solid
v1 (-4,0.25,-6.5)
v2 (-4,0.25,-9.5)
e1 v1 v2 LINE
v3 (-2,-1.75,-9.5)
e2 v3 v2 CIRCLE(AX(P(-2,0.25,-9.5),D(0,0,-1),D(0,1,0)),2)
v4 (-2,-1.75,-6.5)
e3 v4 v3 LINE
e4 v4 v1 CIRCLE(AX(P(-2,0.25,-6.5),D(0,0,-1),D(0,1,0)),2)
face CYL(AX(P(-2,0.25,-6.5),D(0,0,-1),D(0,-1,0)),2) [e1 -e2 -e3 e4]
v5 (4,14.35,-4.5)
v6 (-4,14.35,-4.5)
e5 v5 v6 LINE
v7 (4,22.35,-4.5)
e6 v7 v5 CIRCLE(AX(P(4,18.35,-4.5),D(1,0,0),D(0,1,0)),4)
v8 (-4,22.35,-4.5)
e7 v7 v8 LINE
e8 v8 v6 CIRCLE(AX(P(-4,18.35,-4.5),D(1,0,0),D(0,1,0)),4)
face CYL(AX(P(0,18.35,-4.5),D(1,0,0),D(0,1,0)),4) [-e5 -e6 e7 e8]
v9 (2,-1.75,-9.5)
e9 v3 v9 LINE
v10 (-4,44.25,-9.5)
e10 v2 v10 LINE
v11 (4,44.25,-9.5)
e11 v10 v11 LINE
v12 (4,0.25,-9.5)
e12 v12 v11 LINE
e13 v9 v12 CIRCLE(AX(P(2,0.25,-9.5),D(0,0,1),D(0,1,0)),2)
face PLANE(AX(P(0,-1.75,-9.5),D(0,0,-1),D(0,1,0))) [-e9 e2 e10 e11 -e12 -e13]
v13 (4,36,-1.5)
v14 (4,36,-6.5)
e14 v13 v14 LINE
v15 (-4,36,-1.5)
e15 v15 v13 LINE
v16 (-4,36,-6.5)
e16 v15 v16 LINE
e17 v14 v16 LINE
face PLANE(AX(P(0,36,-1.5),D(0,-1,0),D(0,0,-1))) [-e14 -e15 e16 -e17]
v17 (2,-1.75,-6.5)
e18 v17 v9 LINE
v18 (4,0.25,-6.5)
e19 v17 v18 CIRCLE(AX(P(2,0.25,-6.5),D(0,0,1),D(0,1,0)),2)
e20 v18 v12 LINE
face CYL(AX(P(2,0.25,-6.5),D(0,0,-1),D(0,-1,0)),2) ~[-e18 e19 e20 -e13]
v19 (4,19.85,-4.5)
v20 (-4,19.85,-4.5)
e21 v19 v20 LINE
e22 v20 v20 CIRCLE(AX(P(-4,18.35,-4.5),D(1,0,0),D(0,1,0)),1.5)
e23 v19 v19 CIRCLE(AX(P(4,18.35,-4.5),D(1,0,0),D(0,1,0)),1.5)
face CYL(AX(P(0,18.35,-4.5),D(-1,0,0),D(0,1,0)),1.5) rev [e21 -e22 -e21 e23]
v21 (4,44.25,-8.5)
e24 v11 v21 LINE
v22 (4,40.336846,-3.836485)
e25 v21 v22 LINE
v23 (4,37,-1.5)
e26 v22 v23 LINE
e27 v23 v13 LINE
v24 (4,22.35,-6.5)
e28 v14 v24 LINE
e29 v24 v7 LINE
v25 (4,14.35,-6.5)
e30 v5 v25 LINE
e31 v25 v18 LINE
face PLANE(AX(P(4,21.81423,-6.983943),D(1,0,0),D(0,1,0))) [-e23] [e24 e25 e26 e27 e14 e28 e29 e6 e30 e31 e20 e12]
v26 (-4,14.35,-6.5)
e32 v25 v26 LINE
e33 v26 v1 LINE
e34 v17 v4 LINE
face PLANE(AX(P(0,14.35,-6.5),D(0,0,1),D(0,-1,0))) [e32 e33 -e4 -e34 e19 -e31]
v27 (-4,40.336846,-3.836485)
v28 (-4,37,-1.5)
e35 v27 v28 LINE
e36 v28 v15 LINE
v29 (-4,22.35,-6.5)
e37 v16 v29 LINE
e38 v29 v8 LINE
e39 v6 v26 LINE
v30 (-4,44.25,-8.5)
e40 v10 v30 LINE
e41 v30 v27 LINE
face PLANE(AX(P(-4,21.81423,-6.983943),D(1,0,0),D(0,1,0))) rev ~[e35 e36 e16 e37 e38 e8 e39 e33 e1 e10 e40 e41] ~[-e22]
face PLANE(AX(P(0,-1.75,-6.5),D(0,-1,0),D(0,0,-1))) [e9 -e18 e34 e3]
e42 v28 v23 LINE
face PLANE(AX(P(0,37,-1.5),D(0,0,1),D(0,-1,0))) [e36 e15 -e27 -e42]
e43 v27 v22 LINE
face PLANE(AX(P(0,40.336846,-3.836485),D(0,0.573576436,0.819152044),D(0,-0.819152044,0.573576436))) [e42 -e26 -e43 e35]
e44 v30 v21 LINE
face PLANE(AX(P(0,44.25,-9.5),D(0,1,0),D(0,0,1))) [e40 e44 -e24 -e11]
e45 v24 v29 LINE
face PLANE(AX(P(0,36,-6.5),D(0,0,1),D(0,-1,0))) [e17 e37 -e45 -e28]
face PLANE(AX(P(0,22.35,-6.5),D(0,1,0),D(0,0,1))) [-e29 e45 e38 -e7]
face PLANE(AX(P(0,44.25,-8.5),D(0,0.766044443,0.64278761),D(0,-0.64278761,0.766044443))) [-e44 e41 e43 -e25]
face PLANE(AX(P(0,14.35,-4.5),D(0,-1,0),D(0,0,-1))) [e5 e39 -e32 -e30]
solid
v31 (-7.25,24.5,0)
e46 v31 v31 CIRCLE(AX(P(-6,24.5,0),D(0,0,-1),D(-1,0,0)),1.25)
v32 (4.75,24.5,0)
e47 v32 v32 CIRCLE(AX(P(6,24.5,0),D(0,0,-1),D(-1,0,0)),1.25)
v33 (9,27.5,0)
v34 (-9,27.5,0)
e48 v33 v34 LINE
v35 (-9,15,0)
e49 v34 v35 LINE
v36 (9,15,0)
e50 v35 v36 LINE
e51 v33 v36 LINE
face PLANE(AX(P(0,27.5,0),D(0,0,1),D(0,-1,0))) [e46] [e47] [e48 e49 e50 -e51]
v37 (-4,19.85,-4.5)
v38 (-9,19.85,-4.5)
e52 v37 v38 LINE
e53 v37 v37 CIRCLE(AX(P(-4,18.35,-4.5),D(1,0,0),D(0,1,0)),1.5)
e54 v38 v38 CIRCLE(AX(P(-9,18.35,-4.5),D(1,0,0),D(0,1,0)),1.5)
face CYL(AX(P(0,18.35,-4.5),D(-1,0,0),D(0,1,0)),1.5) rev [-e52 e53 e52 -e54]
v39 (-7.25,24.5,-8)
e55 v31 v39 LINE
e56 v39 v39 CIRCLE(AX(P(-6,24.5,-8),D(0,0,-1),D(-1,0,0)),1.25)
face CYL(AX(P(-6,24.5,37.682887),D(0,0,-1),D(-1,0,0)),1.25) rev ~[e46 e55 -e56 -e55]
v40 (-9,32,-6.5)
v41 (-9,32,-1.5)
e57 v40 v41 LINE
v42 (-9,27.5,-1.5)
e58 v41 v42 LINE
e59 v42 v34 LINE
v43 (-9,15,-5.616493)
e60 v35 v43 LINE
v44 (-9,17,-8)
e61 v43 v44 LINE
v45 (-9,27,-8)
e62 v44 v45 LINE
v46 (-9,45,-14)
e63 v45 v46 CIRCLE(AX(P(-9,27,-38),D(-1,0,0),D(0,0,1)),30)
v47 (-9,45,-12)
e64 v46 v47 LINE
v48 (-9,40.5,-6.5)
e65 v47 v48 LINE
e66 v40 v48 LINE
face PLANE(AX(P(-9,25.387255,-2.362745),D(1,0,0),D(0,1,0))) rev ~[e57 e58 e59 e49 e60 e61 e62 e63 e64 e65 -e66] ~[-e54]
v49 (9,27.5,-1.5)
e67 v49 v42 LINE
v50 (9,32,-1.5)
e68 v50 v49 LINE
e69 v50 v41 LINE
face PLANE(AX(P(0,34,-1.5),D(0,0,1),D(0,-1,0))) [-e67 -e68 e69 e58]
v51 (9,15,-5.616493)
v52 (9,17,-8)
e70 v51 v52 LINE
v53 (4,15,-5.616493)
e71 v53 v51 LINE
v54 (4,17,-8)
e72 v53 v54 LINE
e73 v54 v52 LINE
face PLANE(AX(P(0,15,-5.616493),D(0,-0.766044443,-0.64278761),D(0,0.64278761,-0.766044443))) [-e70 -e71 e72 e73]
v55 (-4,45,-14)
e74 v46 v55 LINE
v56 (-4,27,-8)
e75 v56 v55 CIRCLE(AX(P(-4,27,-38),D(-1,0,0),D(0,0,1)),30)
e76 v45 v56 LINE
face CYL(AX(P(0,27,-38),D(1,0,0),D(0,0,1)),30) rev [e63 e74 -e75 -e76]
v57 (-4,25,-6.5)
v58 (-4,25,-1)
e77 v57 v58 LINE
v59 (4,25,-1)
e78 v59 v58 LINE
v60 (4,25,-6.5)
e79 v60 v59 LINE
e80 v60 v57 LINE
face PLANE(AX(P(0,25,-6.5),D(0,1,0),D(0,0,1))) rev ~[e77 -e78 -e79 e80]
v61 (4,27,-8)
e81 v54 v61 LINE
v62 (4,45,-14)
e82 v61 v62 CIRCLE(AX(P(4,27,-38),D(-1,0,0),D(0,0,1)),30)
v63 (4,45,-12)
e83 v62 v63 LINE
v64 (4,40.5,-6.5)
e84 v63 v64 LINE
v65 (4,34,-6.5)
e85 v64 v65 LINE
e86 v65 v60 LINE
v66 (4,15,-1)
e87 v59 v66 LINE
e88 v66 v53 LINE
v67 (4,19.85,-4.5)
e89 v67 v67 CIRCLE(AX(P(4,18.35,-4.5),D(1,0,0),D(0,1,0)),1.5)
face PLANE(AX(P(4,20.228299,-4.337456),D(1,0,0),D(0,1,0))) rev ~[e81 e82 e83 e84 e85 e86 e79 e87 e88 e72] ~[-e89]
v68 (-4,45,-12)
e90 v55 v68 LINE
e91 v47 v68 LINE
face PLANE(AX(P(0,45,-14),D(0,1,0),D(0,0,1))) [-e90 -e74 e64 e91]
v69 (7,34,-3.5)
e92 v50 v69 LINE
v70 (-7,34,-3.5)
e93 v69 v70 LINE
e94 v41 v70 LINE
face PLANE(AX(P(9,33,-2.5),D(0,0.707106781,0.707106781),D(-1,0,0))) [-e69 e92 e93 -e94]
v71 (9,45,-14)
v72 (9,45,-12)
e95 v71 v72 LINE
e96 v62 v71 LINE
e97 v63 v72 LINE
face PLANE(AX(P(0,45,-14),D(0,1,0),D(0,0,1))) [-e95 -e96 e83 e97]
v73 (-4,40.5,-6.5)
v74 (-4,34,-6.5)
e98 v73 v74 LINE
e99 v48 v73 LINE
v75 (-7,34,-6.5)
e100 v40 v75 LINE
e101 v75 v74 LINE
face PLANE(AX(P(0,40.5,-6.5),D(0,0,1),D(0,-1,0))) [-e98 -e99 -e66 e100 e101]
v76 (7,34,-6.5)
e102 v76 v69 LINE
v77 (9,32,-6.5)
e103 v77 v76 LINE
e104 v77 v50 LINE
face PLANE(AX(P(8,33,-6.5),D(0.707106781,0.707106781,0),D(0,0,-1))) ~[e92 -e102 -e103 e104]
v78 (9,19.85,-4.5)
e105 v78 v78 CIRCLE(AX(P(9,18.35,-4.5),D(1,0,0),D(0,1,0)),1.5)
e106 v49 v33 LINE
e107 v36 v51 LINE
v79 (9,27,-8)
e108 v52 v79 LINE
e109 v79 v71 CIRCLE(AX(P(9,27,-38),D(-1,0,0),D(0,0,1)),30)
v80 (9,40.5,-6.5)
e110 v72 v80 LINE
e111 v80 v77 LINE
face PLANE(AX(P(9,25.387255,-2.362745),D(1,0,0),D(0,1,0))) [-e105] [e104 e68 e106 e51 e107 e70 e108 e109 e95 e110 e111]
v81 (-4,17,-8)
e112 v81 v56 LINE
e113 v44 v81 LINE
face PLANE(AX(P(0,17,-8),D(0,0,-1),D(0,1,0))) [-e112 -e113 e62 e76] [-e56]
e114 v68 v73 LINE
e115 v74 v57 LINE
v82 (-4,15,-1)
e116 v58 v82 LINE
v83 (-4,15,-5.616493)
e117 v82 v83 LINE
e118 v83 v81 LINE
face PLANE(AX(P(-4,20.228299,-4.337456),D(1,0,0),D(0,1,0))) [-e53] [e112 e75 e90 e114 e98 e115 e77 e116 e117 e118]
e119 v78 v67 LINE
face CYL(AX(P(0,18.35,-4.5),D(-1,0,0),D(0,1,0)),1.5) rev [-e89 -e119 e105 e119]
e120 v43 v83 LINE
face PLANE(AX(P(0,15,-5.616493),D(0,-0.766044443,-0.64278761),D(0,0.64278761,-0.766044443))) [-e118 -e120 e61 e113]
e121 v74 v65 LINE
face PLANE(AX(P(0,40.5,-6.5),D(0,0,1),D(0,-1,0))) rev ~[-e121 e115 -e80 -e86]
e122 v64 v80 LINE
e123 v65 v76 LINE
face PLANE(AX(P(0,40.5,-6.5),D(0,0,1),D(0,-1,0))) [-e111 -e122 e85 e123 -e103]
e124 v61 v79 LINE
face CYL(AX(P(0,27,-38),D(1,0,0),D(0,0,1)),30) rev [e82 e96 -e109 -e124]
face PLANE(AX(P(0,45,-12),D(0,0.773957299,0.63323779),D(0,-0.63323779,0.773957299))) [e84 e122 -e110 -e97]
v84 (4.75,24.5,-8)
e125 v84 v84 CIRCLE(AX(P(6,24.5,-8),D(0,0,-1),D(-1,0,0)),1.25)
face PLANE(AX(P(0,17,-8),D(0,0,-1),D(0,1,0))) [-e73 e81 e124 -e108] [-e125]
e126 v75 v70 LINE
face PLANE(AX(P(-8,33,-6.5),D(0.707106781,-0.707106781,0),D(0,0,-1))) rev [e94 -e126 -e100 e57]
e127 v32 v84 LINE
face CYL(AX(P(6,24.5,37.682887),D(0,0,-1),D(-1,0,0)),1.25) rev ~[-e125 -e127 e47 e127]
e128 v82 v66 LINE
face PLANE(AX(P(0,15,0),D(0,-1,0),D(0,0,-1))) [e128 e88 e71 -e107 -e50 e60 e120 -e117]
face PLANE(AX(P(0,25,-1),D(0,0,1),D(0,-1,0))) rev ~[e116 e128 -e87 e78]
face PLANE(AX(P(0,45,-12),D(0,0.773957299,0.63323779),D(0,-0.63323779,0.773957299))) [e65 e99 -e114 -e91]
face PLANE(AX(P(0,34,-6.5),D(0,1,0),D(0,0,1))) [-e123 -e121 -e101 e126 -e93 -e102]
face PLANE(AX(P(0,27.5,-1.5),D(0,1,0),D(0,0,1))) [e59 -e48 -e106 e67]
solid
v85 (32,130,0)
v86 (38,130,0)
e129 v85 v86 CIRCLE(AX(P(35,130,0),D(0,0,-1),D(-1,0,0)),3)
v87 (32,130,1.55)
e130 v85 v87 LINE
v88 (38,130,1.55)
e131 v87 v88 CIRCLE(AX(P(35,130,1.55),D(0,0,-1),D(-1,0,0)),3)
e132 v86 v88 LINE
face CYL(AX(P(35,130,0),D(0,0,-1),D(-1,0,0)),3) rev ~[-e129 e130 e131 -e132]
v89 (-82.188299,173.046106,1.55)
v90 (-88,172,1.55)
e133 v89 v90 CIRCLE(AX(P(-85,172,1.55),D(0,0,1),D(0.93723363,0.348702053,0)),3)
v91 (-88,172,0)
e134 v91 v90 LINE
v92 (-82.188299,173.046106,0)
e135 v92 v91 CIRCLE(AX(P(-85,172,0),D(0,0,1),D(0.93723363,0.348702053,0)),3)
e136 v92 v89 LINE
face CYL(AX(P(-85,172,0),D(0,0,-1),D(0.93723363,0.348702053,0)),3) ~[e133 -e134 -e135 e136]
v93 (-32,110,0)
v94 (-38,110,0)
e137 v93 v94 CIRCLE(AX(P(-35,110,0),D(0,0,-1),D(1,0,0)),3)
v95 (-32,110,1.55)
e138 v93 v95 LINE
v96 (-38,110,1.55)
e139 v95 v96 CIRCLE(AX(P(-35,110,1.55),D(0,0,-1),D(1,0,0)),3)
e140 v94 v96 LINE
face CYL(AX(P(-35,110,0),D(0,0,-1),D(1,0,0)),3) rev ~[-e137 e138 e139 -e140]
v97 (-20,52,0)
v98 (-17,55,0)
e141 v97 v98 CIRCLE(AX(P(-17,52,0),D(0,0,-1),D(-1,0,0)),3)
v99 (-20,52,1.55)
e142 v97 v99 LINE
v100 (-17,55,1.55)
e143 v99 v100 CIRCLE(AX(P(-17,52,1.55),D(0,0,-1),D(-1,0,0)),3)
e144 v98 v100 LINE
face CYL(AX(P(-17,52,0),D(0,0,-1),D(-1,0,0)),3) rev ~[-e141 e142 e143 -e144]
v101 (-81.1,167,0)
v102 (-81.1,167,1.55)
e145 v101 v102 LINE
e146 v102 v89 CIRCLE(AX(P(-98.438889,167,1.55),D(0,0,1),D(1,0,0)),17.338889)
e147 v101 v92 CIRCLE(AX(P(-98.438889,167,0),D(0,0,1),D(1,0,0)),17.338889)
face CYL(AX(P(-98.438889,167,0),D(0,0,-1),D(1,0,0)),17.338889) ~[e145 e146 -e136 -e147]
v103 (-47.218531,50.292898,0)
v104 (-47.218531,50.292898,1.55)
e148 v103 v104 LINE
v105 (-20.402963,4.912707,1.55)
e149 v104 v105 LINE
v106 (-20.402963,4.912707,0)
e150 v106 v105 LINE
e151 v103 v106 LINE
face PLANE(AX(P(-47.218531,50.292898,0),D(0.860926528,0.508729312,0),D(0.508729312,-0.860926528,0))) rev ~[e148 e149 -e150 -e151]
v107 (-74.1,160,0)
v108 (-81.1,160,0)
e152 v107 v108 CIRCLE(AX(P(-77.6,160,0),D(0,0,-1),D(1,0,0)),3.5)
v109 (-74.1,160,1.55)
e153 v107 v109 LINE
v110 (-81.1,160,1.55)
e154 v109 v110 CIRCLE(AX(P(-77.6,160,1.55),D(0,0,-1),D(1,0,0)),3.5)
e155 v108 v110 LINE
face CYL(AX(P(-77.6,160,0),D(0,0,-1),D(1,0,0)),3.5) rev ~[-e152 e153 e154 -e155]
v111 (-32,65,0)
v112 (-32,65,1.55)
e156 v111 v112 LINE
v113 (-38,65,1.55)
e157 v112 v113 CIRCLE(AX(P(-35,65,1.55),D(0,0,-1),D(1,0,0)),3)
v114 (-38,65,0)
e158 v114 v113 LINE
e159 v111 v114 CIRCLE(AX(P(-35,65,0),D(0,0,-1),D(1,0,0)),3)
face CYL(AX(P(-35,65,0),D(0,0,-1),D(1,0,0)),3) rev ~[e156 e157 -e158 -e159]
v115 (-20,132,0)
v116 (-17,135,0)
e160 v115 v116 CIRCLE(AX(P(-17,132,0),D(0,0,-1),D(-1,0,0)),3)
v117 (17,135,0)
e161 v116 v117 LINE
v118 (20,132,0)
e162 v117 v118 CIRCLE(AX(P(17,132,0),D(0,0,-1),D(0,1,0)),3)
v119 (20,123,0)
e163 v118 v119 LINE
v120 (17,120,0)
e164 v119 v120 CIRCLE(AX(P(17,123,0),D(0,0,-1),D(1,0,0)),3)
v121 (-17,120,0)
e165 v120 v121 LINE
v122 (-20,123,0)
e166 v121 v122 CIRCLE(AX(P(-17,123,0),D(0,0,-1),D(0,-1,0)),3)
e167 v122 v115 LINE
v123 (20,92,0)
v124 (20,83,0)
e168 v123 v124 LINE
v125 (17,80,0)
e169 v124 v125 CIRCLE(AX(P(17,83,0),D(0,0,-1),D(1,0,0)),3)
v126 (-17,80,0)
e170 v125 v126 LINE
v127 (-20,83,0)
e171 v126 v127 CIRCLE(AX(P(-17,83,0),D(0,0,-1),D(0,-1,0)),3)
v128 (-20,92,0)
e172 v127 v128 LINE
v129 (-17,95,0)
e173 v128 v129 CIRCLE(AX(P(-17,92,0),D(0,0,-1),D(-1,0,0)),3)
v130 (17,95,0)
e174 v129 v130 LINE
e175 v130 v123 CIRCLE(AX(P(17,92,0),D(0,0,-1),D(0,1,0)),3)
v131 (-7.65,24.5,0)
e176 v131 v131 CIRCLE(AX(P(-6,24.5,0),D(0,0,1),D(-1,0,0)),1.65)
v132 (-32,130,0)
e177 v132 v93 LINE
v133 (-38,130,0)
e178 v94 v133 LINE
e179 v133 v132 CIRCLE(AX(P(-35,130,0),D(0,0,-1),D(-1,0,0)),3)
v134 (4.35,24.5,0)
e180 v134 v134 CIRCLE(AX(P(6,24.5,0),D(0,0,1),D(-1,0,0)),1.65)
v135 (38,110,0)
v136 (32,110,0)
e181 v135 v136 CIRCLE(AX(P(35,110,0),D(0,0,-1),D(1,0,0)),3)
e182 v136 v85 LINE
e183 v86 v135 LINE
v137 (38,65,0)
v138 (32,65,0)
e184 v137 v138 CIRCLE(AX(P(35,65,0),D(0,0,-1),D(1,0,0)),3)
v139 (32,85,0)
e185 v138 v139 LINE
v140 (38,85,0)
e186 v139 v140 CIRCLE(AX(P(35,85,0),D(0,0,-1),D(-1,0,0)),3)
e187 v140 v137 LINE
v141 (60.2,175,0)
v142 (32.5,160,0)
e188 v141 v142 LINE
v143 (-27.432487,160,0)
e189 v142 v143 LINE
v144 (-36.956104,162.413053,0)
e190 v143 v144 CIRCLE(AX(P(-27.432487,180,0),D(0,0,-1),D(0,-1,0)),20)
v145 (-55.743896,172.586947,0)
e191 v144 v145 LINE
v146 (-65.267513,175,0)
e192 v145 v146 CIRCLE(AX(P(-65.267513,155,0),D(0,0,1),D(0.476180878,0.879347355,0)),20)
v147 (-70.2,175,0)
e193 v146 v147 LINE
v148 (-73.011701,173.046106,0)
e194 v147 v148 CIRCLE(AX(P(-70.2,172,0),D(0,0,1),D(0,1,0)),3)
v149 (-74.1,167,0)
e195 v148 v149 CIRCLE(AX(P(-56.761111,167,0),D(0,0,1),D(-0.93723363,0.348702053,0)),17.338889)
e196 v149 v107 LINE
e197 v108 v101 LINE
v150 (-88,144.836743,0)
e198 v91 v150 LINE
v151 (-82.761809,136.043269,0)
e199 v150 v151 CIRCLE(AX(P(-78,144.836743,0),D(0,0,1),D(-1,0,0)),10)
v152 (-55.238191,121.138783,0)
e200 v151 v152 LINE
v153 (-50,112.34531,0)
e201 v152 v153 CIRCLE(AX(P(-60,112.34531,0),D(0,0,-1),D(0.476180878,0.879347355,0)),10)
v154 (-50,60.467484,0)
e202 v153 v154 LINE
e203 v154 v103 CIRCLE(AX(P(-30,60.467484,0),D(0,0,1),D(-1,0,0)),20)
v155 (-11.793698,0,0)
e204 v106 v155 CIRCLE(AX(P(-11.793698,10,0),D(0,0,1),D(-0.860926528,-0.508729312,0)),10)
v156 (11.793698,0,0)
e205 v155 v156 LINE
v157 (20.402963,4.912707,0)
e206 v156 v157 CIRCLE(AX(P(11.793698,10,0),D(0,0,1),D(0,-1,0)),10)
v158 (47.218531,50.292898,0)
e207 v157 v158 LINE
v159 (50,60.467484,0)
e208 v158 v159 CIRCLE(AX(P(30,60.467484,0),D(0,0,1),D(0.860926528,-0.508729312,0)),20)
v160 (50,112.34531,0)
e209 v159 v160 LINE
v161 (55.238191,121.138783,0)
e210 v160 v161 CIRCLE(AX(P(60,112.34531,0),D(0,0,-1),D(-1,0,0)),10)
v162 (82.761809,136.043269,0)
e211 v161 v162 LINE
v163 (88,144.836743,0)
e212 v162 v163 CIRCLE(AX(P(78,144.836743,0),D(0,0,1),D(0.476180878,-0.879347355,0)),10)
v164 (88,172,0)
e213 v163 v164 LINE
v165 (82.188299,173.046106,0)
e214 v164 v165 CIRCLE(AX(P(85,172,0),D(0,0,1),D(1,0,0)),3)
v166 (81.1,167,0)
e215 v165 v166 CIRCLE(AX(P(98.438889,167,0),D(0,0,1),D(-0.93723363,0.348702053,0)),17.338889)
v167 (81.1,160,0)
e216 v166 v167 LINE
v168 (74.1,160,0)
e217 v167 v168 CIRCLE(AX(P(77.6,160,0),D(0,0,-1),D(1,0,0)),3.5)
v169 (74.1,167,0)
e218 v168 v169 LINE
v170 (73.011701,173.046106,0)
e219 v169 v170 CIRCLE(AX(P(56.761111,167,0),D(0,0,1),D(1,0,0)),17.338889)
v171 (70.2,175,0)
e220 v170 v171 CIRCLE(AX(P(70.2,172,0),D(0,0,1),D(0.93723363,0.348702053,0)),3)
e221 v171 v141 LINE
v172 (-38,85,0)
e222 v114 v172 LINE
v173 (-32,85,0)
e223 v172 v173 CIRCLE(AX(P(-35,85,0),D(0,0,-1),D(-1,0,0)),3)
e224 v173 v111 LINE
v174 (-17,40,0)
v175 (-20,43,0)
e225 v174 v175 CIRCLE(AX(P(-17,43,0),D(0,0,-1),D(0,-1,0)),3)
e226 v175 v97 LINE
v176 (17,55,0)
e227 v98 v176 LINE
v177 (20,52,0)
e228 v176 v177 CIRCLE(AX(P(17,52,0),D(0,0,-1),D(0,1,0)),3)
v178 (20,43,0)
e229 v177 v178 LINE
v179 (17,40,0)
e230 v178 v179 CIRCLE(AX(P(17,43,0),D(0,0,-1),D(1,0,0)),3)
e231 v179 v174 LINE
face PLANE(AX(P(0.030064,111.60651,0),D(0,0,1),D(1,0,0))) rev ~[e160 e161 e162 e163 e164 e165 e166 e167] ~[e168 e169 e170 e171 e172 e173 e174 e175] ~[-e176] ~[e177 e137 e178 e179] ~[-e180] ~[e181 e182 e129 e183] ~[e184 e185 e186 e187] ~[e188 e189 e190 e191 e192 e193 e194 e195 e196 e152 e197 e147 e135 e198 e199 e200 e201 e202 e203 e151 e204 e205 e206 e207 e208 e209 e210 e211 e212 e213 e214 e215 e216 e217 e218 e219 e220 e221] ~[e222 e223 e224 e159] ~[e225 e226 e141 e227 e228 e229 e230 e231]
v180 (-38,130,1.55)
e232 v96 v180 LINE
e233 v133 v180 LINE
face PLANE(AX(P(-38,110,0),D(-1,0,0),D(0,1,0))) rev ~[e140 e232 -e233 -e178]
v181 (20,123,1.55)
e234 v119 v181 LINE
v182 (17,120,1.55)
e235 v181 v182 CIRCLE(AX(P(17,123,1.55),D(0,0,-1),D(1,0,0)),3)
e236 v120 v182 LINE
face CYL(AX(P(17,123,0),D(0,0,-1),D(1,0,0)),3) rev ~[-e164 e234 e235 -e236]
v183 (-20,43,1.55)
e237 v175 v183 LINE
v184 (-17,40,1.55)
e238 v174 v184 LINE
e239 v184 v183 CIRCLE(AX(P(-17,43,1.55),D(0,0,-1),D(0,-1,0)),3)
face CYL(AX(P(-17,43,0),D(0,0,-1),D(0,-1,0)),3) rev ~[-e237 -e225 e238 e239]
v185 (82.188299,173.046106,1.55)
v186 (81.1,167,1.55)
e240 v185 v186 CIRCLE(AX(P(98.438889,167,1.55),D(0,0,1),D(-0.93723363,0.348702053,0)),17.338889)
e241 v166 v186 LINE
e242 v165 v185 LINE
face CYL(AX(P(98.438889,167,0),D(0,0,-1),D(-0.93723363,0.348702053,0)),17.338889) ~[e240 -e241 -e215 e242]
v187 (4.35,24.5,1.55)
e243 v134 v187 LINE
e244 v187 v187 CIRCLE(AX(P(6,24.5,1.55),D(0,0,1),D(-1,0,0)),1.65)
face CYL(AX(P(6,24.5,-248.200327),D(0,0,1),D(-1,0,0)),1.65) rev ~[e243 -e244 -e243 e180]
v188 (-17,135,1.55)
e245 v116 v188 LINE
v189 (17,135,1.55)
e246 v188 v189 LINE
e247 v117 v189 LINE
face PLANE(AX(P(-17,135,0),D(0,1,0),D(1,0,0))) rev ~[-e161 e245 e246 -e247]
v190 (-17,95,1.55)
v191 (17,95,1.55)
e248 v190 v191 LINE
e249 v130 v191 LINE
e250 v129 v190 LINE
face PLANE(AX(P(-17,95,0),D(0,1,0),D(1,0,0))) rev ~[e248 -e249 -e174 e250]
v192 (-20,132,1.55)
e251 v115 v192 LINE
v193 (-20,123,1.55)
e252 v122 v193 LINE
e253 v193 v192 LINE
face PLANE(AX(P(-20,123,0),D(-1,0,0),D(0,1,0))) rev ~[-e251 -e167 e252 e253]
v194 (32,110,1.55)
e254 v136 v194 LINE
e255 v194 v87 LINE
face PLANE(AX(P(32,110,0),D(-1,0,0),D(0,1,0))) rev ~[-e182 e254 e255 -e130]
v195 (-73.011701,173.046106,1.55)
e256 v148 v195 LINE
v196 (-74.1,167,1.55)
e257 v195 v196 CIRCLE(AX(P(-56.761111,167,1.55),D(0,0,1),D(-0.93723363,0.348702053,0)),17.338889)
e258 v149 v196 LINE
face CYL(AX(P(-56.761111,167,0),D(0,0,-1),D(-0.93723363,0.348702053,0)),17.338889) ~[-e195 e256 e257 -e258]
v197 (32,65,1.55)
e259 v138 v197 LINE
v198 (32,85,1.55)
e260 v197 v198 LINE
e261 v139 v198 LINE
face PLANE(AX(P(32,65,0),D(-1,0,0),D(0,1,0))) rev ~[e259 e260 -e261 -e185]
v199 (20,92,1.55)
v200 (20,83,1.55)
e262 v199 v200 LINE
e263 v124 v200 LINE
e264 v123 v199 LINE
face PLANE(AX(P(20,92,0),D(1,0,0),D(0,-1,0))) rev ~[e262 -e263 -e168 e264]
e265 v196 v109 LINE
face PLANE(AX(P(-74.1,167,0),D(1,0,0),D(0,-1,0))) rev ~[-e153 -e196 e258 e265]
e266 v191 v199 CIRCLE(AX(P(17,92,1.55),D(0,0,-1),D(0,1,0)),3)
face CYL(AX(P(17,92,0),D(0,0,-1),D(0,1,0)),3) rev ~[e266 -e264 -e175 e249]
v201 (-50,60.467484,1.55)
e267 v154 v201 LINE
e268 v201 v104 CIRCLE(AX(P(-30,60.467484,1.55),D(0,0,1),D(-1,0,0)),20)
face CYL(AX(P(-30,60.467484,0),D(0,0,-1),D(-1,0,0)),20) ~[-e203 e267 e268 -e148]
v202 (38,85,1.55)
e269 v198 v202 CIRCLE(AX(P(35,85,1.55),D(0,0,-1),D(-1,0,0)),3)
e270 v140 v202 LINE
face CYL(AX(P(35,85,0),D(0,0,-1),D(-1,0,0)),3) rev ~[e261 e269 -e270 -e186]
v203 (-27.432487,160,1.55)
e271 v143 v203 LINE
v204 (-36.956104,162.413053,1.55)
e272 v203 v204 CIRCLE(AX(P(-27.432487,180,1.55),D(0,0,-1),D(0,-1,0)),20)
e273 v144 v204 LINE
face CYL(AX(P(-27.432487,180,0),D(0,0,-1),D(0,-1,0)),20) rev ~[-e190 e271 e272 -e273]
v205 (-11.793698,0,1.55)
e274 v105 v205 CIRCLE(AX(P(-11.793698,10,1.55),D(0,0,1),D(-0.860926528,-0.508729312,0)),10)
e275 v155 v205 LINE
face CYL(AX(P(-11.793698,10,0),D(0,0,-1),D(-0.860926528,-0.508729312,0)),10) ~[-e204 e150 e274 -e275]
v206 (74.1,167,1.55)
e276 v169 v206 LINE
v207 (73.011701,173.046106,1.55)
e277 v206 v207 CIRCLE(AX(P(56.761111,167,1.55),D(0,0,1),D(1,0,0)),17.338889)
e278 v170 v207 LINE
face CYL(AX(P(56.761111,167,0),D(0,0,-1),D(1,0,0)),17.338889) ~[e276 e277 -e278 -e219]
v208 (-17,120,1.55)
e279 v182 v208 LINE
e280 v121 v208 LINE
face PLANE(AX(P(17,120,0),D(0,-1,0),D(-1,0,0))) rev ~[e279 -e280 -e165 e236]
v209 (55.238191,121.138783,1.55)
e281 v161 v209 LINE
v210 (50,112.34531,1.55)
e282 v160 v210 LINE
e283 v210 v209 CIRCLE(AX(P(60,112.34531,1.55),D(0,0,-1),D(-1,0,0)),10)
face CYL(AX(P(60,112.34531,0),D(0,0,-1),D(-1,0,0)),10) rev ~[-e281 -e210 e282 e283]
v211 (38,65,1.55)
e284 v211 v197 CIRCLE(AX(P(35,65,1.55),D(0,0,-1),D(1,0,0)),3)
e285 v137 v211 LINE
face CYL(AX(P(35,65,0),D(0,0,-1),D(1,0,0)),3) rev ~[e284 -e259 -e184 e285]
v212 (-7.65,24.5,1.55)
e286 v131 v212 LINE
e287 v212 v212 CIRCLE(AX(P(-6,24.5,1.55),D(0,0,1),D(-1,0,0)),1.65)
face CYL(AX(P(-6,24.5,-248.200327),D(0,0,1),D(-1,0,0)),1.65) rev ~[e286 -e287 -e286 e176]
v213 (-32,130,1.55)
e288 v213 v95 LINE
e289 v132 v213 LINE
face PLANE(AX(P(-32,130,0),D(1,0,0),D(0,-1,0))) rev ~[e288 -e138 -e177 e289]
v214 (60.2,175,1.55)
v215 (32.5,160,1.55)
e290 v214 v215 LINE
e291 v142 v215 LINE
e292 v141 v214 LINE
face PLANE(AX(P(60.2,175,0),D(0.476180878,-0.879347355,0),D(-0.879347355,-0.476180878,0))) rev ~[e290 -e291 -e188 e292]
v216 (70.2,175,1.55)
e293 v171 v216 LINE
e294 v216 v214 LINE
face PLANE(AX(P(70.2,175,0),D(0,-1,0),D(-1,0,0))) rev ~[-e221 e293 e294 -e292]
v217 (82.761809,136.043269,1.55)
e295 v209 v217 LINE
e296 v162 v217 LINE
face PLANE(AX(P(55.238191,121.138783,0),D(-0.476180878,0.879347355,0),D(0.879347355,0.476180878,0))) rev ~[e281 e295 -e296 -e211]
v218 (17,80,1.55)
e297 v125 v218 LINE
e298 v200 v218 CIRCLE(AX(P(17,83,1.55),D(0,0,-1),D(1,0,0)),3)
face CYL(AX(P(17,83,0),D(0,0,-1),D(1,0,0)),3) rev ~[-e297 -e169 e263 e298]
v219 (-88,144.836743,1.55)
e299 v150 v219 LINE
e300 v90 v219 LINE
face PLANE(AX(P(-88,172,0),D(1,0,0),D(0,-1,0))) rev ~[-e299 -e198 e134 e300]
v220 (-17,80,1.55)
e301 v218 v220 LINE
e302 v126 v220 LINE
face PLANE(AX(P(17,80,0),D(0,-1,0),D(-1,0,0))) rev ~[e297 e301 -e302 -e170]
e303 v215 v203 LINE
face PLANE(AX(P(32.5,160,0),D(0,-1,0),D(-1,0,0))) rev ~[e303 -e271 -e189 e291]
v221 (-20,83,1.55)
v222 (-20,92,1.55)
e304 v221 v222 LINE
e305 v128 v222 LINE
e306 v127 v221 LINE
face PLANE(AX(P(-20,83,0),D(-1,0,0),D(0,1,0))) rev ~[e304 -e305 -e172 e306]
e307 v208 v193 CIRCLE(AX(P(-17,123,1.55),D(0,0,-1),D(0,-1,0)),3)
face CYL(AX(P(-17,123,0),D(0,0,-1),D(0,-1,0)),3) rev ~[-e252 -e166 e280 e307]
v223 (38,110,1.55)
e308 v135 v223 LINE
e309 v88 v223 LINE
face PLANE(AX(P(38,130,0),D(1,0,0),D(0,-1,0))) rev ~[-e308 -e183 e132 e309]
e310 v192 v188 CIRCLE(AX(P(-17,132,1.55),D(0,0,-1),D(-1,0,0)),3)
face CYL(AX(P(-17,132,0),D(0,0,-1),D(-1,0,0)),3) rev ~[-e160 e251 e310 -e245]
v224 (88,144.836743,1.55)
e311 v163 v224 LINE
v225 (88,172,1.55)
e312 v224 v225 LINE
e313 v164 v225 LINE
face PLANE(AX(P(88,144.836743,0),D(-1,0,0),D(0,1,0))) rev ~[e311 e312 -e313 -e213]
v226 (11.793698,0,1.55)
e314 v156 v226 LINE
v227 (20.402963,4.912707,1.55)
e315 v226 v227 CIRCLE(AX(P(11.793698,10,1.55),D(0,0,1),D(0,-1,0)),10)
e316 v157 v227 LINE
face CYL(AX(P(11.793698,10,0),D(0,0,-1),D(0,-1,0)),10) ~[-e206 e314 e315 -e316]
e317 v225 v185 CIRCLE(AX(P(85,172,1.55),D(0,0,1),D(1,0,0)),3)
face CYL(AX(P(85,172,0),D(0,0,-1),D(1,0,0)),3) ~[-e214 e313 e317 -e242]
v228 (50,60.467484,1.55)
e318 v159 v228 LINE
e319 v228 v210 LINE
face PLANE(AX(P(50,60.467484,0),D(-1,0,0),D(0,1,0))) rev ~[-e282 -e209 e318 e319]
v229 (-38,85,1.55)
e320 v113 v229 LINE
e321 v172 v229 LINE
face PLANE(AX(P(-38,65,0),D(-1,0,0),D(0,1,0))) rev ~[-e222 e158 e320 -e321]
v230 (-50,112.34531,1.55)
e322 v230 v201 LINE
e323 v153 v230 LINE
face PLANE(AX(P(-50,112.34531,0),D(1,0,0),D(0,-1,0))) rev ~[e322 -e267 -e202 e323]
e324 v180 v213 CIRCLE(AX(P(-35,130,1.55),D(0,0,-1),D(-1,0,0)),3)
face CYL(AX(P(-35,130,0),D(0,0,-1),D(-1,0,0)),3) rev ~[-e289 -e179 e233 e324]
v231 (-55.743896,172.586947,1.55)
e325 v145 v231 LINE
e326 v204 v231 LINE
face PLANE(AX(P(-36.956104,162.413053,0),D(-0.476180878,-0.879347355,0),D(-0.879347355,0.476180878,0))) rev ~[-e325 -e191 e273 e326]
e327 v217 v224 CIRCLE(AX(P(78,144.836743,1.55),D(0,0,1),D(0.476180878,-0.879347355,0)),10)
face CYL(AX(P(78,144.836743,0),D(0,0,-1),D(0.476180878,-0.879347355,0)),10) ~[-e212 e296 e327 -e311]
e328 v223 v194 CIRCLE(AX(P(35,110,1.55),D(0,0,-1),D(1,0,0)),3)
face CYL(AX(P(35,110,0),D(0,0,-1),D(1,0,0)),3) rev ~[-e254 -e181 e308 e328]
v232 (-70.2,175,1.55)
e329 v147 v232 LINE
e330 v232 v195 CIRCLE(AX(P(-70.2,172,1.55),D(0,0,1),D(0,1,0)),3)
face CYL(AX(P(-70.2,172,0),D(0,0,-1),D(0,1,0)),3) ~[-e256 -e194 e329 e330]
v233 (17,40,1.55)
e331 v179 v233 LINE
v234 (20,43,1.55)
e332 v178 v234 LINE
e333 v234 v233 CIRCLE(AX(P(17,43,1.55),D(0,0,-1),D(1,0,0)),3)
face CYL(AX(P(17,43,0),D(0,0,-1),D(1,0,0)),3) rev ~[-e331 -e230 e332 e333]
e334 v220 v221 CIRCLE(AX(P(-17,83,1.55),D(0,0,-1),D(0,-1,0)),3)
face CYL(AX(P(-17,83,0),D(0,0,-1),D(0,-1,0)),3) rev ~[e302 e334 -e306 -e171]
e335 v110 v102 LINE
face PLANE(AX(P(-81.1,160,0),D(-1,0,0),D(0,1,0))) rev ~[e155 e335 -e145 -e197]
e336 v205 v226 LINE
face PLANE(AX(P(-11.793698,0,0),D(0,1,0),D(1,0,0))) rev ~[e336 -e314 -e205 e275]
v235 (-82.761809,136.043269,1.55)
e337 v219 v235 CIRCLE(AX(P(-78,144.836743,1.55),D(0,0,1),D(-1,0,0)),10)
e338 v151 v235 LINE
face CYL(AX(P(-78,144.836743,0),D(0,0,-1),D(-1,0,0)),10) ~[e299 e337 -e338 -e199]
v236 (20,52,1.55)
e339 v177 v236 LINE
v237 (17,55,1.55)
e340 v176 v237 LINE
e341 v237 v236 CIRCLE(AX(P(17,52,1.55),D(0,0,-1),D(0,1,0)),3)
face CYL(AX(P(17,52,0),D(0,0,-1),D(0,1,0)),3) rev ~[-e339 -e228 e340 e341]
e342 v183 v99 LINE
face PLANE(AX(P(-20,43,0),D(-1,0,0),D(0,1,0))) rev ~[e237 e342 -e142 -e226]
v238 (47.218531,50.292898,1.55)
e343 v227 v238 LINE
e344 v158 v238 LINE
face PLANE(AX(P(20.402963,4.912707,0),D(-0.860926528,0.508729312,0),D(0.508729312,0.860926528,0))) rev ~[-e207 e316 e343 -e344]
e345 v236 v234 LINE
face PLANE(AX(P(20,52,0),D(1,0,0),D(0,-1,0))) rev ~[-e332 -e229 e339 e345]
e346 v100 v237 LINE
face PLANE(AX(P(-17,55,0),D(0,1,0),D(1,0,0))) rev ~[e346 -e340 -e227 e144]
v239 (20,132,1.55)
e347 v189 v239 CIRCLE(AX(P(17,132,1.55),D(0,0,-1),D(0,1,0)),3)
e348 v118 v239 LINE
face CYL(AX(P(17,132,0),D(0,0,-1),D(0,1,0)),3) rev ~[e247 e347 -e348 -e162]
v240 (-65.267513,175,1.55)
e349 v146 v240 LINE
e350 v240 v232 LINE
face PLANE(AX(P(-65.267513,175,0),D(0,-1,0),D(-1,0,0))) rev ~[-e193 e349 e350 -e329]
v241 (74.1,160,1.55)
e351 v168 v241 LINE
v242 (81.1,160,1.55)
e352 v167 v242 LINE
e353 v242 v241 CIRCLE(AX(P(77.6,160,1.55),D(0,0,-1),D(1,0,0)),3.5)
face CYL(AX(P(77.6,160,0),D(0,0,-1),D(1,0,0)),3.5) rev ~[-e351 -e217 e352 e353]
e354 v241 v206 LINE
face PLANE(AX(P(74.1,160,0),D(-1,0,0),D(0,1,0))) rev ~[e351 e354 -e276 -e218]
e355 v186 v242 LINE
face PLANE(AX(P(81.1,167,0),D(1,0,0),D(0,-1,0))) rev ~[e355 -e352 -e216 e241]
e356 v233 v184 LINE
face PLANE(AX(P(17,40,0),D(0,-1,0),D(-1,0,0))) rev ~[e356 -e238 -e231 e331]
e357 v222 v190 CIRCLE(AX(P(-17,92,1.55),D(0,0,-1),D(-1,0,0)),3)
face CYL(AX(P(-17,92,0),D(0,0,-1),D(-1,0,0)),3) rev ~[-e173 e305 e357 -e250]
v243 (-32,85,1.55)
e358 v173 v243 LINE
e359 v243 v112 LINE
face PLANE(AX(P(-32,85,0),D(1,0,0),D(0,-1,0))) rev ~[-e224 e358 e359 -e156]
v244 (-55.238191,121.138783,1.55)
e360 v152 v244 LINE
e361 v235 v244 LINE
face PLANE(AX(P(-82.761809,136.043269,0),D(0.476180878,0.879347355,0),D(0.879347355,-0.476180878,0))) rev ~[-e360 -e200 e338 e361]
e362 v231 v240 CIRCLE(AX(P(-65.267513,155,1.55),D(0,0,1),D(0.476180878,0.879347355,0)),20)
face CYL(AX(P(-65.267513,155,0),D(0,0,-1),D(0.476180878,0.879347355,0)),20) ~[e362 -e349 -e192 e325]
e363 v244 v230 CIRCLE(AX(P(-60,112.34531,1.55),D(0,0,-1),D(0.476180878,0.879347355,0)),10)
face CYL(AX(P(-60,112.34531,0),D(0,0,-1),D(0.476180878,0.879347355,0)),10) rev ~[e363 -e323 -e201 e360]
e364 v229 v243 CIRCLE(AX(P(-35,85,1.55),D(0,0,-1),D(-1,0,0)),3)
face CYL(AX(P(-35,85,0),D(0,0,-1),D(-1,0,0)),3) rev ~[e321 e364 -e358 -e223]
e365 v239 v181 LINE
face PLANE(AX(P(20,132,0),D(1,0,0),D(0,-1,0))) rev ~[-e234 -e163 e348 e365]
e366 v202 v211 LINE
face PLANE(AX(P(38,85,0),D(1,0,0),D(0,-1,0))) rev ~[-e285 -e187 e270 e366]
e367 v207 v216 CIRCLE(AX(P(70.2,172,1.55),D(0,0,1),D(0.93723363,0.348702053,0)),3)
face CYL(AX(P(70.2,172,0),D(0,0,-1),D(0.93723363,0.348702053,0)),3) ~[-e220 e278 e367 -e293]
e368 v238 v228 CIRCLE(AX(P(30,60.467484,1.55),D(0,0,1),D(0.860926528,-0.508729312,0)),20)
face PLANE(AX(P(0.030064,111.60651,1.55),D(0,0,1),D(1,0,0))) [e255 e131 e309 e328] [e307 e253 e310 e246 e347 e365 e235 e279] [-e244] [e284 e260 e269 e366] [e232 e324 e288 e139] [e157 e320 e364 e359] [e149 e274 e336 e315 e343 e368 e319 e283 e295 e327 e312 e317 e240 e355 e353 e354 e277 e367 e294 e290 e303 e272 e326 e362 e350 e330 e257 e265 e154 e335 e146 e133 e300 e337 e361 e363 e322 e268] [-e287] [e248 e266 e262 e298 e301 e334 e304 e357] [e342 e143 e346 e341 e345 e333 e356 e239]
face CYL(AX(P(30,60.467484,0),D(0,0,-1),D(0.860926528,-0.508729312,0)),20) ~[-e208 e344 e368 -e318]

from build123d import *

# Parameters (mm, degrees)
F1_DEPTH = 1.55
F2_D     = 3.3
F3_R     = 1.5
F4_DEPTH = 9
F5_DEPTH = 4
F6_R     = 1.5
F7_DEPTH = 4
F8_D     = 2.5
F9_SIZE  = 2
F10_R    = 2


with BuildPart() as f1:
    # F0 (on Top) → F1 (new body)
    with BuildSketch(Plane.XY):
        with BuildLine():
            ThreePointArc((-73.0117008911, 173.0461061604), (-73.8257564118, 170.0716361541), (-74.1, 167))
            Line((-74.1, 167), (-74.1, 160))
            ThreePointArc((-74.1, 160), (-77.6, 156.5), (-81.1, 160))
            Line((-81.1, 160), (-81.1, 167))
            ThreePointArc((-81.1, 167), (-81.3742435882, 170.0716361541), (-82.1882991089, 173.0461061604))
            ThreePointArc((-82.1882991089, 173.0461061604), (-85.5314589949, 174.9525499719), (-88, 172))
            Line((-88, 172), (-88, 144.8367428881))
            ThreePointArc((-88, 144.8367428881), (-86.5912190005, 139.719032845), (-82.7618087829, 136.0432693358))
            Line((-82.7618087829, 136.0432693358), (-55.2381912171, 121.1387832894))
            ThreePointArc((-55.2381912171, 121.1387832894), (-51.4087809995, 117.4630197802), (-50, 112.3453097371))
            Line((-50, 112.3453097371), (-50, 60.4674841206))
            ThreePointArc((-50, 60.4674841206), (-49.2921047489, 55.1935203022), (-47.2185305643, 50.292897878))
            Line((-47.2185305643, 50.292897878), (-20.4029631556, 4.9127068787))
            ThreePointArc((-20.4029631556, 4.9127068787), (-16.7498591293, 1.3145831645), (-11.7936978735, 0))
            Line((-11.7936978735, 0), (0, 0))
            Line((0, 0), (11.7936978735, 0))
            ThreePointArc((11.7936978735, 0), (16.7498591293, 1.3145831645), (20.4029631556, 4.9127068787))
            Line((20.4029631556, 4.9127068787), (47.2185305643, 50.292897878))
            ThreePointArc((47.2185305643, 50.292897878), (49.2921047489, 55.1935203022), (50, 60.4674841206))
            Line((50, 60.4674841206), (50, 112.3453097371))
            ThreePointArc((50, 112.3453097371), (51.4087809995, 117.4630197802), (55.2381912171, 121.1387832894))
            Line((55.2381912171, 121.1387832894), (82.7618087829, 136.0432693358))
            ThreePointArc((82.7618087829, 136.0432693358), (86.5912190005, 139.719032845), (88, 144.8367428881))
            Line((88, 144.8367428881), (88, 172))
            ThreePointArc((88, 172), (85.5314589949, 174.9525499719), (82.1882991089, 173.0461061604))
            ThreePointArc((82.1882991089, 173.0461061604), (81.3742435882, 170.0716361541), (81.1, 167))
            Line((81.1, 167), (81.1, 160))
            ThreePointArc((81.1, 160), (77.6, 156.5), (74.1, 160))
            Line((74.1, 160), (74.1, 167))
            ThreePointArc((74.1, 167), (73.8257564118, 170.0716361541), (73.0117008911, 173.0461061604))
            ThreePointArc((73.0117008911, 173.0461061604), (71.9119698477, 174.4635663662), (70.2, 175))
            Line((70.2, 175), (60.2, 175))
            Line((60.2, 175), (32.5, 160))
            Line((32.5, 160), (0, 160))
            Line((0, 160), (-27.432486781, 160))
            ThreePointArc((-27.432486781, 160), (-32.3447702575, 160.6126466209), (-36.9561043467, 162.4130528953))
            Line((-36.9561043467, 162.4130528953), (-55.7438956533, 172.5869471047))
            ThreePointArc((-55.7438956533, 172.5869471047), (-60.3552297425, 174.3873533791), (-65.267513219, 175))
            Line((-65.267513219, 175), (-70.2, 175))
            ThreePointArc((-70.2, 175), (-71.9119698477, 174.4635663662), (-73.0117008911, 173.0461061604))
        make_face()
        with BuildLine():
            Line((-38, 65), (-38, 85))
            ThreePointArc((-38, 85), (-35, 88), (-32, 85))
            Line((-32, 85), (-32, 65))
            ThreePointArc((-32, 65), (-35, 62), (-38, 65))
        make_face(mode=Mode.SUBTRACT)
        with BuildLine():
            Line((17, 40), (-17, 40))
            ThreePointArc((-17, 40), (-19.1213203436, 40.8786796564), (-20, 43))
            Line((-20, 43), (-20, 52))
            ThreePointArc((-20, 52), (-19.1213203436, 54.1213203436), (-17, 55))
            Line((-17, 55), (17, 55))
            ThreePointArc((17, 55), (19.1213203436, 54.1213203436), (20, 52))
            Line((20, 52), (20, 43))
            ThreePointArc((20, 43), (19.1213203436, 40.8786796564), (17, 40))
        make_face(mode=Mode.SUBTRACT)
        with BuildLine():
            ThreePointArc((38, 65), (35, 62), (32, 65))
            Line((32, 65), (32, 85))
            ThreePointArc((32, 85), (35, 88), (38, 85))
            Line((38, 85), (38, 65))
        make_face(mode=Mode.SUBTRACT)
        with BuildLine():
            Line((-38, 110), (-38, 130))
            ThreePointArc((-38, 130), (-35, 133), (-32, 130))
            Line((-32, 130), (-32, 110))
            ThreePointArc((-32, 110), (-35, 107), (-38, 110))
        make_face(mode=Mode.SUBTRACT)
        with BuildLine():
            Line((17, 80), (-17, 80))
            ThreePointArc((-17, 80), (-19.1213203436, 80.8786796564), (-20, 83))
            Line((-20, 83), (-20, 92))
            ThreePointArc((-20, 92), (-19.1213203436, 94.1213203436), (-17, 95))
            Line((-17, 95), (17, 95))
            ThreePointArc((17, 95), (19.1213203436, 94.1213203436), (20, 92))
            Line((20, 92), (20, 83))
            ThreePointArc((20, 83), (19.1213203436, 80.8786796564), (17, 80))
        make_face(mode=Mode.SUBTRACT)
        with BuildLine():
            ThreePointArc((-20, 132), (-19.1213203436, 134.1213203436), (-17, 135))
            Line((-17, 135), (17, 135))
            ThreePointArc((17, 135), (19.1213203436, 134.1213203436), (20, 132))
            Line((20, 132), (20, 123))
            ThreePointArc((20, 123), (19.1213203436, 120.8786796564), (17, 120))
            Line((17, 120), (-17, 120))
            ThreePointArc((-17, 120), (-19.1213203436, 120.8786796564), (-20, 123))
            Line((-20, 123), (-20, 132))
        make_face(mode=Mode.SUBTRACT)
        with BuildLine():
            ThreePointArc((32, 130), (35, 133), (38, 130))
            Line((38, 130), (38, 110))
            ThreePointArc((38, 110), (35, 107), (32, 110))
            Line((32, 110), (32, 130))
        make_face(mode=Mode.SUBTRACT)
    extrude(amount=F1_DEPTH)

    # F2 (through all)
    with Locations(Plane(origin=(0, 0, 0), x_dir=(1, 0, 0), z_dir=(0, 0, -1))):
        with Locations((-6, -24.5), (6, -24.5)):
            Hole(F2_D / 2)


with BuildPart() as f4:
    # F3 (on Right) → F4 (new body, symmetric)
    with BuildSketch(Plane.YZ):
        Polygon((27.5, 0), (15, 0), (15, -1), (25, -1), (25, -6.5), (34, -6.5), (34, -1.5), (27.5, -1.5), align=None)
        Polygon((25, -1), (15, -1), (15, -5.6164928148), (17, -8), (25, -8), (25, -6.5), align=None)
        with Locations((18.35, -4.5)):
            Circle(F3_R, mode=Mode.SUBTRACT)
        with BuildLine():
            Line((34, -6.5), (25, -6.5))
            Line((25, -6.5), (25, -8))
            Line((25, -8), (27, -8))
            ThreePointArc((27, -8), (36.4868329805, -9.5395010585), (45, -14))
            Line((45, -14), (45, -12))
            Line((45, -12), (40.5, -6.5))
            Line((40.5, -6.5), (34, -6.5))
        make_face()
    extrude(amount=F4_DEPTH, both=True)

    # F3 (on Right) → F5 (cut, symmetric)
    with BuildSketch(Plane.YZ):
        Polygon((25, -1), (15, -1), (15, -5.6164928148), (17, -8), (25, -8), (25, -6.5), align=None)
        with Locations((18.35, -4.5)):
            Circle(F3_R, mode=Mode.SUBTRACT)
        with BuildLine():
            Line((34, -6.5), (25, -6.5))
            Line((25, -6.5), (25, -8))
            Line((25, -8), (27, -8))
            ThreePointArc((27, -8), (36.4868329805, -9.5395010585), (45, -14))
            Line((45, -14), (45, -12))
            Line((45, -12), (40.5, -6.5))
            Line((40.5, -6.5), (34, -6.5))
        make_face()
    extrude(amount=F5_DEPTH, both=True, mode=Mode.SUBTRACT)

    # F8 (through all)
    with Locations(Plane.XY):
        with Locations((6, 24.5), (-6, 24.5)):
            Hole(F8_D / 2)

    # F9
    f9_edges = [f4.edges().sort_by_distance(p)[0] for p in [
        (9, 34, -4),
        (-9, 34, -4),
        (0, 34, -1.5),
    ]]
    chamfer(f9_edges, length=F9_SIZE)


with BuildPart() as f7:
    # F6 (on Right) → F7 (new body, symmetric)
    with BuildSketch(Plane.YZ):
        with BuildLine():
            Line((-1.75, -6.5), (-1.75, -9.5))
            Line((-1.75, -9.5), (44.25, -9.5))
            Line((44.25, -9.5), (44.25, -8.5))
            Line((44.25, -8.5), (40.3368461239, -3.8364848098))
            Line((40.3368461239, -3.8364848098), (37, -1.5))
            Line((37, -1.5), (36, -1.5))
            Line((36, -1.5), (36, -6.5))
            Line((36, -6.5), (22.35, -6.5))
            Line((22.35, -6.5), (22.35, -4.5))
            ThreePointArc((22.35, -4.5), (18.35, -0.5), (14.35, -4.5))
            Line((14.35, -4.5), (14.35, -6.5))
            Line((14.35, -6.5), (-1.75, -6.5))
        make_face()
        with Locations((18.35, -4.5)):
            Circle(F6_R, mode=Mode.SUBTRACT)
    extrude(amount=F7_DEPTH, both=True)

    # F10
    f10_edges = [f7.edges().sort_by_distance(p)[0] for p in [
        (-4, -1.75, -8),
        (4, -1.75, -8),
    ]]
    fillet(f10_edges, radius=F10_R)


solid = Compound([f1.part, f4.part, f7.part])
